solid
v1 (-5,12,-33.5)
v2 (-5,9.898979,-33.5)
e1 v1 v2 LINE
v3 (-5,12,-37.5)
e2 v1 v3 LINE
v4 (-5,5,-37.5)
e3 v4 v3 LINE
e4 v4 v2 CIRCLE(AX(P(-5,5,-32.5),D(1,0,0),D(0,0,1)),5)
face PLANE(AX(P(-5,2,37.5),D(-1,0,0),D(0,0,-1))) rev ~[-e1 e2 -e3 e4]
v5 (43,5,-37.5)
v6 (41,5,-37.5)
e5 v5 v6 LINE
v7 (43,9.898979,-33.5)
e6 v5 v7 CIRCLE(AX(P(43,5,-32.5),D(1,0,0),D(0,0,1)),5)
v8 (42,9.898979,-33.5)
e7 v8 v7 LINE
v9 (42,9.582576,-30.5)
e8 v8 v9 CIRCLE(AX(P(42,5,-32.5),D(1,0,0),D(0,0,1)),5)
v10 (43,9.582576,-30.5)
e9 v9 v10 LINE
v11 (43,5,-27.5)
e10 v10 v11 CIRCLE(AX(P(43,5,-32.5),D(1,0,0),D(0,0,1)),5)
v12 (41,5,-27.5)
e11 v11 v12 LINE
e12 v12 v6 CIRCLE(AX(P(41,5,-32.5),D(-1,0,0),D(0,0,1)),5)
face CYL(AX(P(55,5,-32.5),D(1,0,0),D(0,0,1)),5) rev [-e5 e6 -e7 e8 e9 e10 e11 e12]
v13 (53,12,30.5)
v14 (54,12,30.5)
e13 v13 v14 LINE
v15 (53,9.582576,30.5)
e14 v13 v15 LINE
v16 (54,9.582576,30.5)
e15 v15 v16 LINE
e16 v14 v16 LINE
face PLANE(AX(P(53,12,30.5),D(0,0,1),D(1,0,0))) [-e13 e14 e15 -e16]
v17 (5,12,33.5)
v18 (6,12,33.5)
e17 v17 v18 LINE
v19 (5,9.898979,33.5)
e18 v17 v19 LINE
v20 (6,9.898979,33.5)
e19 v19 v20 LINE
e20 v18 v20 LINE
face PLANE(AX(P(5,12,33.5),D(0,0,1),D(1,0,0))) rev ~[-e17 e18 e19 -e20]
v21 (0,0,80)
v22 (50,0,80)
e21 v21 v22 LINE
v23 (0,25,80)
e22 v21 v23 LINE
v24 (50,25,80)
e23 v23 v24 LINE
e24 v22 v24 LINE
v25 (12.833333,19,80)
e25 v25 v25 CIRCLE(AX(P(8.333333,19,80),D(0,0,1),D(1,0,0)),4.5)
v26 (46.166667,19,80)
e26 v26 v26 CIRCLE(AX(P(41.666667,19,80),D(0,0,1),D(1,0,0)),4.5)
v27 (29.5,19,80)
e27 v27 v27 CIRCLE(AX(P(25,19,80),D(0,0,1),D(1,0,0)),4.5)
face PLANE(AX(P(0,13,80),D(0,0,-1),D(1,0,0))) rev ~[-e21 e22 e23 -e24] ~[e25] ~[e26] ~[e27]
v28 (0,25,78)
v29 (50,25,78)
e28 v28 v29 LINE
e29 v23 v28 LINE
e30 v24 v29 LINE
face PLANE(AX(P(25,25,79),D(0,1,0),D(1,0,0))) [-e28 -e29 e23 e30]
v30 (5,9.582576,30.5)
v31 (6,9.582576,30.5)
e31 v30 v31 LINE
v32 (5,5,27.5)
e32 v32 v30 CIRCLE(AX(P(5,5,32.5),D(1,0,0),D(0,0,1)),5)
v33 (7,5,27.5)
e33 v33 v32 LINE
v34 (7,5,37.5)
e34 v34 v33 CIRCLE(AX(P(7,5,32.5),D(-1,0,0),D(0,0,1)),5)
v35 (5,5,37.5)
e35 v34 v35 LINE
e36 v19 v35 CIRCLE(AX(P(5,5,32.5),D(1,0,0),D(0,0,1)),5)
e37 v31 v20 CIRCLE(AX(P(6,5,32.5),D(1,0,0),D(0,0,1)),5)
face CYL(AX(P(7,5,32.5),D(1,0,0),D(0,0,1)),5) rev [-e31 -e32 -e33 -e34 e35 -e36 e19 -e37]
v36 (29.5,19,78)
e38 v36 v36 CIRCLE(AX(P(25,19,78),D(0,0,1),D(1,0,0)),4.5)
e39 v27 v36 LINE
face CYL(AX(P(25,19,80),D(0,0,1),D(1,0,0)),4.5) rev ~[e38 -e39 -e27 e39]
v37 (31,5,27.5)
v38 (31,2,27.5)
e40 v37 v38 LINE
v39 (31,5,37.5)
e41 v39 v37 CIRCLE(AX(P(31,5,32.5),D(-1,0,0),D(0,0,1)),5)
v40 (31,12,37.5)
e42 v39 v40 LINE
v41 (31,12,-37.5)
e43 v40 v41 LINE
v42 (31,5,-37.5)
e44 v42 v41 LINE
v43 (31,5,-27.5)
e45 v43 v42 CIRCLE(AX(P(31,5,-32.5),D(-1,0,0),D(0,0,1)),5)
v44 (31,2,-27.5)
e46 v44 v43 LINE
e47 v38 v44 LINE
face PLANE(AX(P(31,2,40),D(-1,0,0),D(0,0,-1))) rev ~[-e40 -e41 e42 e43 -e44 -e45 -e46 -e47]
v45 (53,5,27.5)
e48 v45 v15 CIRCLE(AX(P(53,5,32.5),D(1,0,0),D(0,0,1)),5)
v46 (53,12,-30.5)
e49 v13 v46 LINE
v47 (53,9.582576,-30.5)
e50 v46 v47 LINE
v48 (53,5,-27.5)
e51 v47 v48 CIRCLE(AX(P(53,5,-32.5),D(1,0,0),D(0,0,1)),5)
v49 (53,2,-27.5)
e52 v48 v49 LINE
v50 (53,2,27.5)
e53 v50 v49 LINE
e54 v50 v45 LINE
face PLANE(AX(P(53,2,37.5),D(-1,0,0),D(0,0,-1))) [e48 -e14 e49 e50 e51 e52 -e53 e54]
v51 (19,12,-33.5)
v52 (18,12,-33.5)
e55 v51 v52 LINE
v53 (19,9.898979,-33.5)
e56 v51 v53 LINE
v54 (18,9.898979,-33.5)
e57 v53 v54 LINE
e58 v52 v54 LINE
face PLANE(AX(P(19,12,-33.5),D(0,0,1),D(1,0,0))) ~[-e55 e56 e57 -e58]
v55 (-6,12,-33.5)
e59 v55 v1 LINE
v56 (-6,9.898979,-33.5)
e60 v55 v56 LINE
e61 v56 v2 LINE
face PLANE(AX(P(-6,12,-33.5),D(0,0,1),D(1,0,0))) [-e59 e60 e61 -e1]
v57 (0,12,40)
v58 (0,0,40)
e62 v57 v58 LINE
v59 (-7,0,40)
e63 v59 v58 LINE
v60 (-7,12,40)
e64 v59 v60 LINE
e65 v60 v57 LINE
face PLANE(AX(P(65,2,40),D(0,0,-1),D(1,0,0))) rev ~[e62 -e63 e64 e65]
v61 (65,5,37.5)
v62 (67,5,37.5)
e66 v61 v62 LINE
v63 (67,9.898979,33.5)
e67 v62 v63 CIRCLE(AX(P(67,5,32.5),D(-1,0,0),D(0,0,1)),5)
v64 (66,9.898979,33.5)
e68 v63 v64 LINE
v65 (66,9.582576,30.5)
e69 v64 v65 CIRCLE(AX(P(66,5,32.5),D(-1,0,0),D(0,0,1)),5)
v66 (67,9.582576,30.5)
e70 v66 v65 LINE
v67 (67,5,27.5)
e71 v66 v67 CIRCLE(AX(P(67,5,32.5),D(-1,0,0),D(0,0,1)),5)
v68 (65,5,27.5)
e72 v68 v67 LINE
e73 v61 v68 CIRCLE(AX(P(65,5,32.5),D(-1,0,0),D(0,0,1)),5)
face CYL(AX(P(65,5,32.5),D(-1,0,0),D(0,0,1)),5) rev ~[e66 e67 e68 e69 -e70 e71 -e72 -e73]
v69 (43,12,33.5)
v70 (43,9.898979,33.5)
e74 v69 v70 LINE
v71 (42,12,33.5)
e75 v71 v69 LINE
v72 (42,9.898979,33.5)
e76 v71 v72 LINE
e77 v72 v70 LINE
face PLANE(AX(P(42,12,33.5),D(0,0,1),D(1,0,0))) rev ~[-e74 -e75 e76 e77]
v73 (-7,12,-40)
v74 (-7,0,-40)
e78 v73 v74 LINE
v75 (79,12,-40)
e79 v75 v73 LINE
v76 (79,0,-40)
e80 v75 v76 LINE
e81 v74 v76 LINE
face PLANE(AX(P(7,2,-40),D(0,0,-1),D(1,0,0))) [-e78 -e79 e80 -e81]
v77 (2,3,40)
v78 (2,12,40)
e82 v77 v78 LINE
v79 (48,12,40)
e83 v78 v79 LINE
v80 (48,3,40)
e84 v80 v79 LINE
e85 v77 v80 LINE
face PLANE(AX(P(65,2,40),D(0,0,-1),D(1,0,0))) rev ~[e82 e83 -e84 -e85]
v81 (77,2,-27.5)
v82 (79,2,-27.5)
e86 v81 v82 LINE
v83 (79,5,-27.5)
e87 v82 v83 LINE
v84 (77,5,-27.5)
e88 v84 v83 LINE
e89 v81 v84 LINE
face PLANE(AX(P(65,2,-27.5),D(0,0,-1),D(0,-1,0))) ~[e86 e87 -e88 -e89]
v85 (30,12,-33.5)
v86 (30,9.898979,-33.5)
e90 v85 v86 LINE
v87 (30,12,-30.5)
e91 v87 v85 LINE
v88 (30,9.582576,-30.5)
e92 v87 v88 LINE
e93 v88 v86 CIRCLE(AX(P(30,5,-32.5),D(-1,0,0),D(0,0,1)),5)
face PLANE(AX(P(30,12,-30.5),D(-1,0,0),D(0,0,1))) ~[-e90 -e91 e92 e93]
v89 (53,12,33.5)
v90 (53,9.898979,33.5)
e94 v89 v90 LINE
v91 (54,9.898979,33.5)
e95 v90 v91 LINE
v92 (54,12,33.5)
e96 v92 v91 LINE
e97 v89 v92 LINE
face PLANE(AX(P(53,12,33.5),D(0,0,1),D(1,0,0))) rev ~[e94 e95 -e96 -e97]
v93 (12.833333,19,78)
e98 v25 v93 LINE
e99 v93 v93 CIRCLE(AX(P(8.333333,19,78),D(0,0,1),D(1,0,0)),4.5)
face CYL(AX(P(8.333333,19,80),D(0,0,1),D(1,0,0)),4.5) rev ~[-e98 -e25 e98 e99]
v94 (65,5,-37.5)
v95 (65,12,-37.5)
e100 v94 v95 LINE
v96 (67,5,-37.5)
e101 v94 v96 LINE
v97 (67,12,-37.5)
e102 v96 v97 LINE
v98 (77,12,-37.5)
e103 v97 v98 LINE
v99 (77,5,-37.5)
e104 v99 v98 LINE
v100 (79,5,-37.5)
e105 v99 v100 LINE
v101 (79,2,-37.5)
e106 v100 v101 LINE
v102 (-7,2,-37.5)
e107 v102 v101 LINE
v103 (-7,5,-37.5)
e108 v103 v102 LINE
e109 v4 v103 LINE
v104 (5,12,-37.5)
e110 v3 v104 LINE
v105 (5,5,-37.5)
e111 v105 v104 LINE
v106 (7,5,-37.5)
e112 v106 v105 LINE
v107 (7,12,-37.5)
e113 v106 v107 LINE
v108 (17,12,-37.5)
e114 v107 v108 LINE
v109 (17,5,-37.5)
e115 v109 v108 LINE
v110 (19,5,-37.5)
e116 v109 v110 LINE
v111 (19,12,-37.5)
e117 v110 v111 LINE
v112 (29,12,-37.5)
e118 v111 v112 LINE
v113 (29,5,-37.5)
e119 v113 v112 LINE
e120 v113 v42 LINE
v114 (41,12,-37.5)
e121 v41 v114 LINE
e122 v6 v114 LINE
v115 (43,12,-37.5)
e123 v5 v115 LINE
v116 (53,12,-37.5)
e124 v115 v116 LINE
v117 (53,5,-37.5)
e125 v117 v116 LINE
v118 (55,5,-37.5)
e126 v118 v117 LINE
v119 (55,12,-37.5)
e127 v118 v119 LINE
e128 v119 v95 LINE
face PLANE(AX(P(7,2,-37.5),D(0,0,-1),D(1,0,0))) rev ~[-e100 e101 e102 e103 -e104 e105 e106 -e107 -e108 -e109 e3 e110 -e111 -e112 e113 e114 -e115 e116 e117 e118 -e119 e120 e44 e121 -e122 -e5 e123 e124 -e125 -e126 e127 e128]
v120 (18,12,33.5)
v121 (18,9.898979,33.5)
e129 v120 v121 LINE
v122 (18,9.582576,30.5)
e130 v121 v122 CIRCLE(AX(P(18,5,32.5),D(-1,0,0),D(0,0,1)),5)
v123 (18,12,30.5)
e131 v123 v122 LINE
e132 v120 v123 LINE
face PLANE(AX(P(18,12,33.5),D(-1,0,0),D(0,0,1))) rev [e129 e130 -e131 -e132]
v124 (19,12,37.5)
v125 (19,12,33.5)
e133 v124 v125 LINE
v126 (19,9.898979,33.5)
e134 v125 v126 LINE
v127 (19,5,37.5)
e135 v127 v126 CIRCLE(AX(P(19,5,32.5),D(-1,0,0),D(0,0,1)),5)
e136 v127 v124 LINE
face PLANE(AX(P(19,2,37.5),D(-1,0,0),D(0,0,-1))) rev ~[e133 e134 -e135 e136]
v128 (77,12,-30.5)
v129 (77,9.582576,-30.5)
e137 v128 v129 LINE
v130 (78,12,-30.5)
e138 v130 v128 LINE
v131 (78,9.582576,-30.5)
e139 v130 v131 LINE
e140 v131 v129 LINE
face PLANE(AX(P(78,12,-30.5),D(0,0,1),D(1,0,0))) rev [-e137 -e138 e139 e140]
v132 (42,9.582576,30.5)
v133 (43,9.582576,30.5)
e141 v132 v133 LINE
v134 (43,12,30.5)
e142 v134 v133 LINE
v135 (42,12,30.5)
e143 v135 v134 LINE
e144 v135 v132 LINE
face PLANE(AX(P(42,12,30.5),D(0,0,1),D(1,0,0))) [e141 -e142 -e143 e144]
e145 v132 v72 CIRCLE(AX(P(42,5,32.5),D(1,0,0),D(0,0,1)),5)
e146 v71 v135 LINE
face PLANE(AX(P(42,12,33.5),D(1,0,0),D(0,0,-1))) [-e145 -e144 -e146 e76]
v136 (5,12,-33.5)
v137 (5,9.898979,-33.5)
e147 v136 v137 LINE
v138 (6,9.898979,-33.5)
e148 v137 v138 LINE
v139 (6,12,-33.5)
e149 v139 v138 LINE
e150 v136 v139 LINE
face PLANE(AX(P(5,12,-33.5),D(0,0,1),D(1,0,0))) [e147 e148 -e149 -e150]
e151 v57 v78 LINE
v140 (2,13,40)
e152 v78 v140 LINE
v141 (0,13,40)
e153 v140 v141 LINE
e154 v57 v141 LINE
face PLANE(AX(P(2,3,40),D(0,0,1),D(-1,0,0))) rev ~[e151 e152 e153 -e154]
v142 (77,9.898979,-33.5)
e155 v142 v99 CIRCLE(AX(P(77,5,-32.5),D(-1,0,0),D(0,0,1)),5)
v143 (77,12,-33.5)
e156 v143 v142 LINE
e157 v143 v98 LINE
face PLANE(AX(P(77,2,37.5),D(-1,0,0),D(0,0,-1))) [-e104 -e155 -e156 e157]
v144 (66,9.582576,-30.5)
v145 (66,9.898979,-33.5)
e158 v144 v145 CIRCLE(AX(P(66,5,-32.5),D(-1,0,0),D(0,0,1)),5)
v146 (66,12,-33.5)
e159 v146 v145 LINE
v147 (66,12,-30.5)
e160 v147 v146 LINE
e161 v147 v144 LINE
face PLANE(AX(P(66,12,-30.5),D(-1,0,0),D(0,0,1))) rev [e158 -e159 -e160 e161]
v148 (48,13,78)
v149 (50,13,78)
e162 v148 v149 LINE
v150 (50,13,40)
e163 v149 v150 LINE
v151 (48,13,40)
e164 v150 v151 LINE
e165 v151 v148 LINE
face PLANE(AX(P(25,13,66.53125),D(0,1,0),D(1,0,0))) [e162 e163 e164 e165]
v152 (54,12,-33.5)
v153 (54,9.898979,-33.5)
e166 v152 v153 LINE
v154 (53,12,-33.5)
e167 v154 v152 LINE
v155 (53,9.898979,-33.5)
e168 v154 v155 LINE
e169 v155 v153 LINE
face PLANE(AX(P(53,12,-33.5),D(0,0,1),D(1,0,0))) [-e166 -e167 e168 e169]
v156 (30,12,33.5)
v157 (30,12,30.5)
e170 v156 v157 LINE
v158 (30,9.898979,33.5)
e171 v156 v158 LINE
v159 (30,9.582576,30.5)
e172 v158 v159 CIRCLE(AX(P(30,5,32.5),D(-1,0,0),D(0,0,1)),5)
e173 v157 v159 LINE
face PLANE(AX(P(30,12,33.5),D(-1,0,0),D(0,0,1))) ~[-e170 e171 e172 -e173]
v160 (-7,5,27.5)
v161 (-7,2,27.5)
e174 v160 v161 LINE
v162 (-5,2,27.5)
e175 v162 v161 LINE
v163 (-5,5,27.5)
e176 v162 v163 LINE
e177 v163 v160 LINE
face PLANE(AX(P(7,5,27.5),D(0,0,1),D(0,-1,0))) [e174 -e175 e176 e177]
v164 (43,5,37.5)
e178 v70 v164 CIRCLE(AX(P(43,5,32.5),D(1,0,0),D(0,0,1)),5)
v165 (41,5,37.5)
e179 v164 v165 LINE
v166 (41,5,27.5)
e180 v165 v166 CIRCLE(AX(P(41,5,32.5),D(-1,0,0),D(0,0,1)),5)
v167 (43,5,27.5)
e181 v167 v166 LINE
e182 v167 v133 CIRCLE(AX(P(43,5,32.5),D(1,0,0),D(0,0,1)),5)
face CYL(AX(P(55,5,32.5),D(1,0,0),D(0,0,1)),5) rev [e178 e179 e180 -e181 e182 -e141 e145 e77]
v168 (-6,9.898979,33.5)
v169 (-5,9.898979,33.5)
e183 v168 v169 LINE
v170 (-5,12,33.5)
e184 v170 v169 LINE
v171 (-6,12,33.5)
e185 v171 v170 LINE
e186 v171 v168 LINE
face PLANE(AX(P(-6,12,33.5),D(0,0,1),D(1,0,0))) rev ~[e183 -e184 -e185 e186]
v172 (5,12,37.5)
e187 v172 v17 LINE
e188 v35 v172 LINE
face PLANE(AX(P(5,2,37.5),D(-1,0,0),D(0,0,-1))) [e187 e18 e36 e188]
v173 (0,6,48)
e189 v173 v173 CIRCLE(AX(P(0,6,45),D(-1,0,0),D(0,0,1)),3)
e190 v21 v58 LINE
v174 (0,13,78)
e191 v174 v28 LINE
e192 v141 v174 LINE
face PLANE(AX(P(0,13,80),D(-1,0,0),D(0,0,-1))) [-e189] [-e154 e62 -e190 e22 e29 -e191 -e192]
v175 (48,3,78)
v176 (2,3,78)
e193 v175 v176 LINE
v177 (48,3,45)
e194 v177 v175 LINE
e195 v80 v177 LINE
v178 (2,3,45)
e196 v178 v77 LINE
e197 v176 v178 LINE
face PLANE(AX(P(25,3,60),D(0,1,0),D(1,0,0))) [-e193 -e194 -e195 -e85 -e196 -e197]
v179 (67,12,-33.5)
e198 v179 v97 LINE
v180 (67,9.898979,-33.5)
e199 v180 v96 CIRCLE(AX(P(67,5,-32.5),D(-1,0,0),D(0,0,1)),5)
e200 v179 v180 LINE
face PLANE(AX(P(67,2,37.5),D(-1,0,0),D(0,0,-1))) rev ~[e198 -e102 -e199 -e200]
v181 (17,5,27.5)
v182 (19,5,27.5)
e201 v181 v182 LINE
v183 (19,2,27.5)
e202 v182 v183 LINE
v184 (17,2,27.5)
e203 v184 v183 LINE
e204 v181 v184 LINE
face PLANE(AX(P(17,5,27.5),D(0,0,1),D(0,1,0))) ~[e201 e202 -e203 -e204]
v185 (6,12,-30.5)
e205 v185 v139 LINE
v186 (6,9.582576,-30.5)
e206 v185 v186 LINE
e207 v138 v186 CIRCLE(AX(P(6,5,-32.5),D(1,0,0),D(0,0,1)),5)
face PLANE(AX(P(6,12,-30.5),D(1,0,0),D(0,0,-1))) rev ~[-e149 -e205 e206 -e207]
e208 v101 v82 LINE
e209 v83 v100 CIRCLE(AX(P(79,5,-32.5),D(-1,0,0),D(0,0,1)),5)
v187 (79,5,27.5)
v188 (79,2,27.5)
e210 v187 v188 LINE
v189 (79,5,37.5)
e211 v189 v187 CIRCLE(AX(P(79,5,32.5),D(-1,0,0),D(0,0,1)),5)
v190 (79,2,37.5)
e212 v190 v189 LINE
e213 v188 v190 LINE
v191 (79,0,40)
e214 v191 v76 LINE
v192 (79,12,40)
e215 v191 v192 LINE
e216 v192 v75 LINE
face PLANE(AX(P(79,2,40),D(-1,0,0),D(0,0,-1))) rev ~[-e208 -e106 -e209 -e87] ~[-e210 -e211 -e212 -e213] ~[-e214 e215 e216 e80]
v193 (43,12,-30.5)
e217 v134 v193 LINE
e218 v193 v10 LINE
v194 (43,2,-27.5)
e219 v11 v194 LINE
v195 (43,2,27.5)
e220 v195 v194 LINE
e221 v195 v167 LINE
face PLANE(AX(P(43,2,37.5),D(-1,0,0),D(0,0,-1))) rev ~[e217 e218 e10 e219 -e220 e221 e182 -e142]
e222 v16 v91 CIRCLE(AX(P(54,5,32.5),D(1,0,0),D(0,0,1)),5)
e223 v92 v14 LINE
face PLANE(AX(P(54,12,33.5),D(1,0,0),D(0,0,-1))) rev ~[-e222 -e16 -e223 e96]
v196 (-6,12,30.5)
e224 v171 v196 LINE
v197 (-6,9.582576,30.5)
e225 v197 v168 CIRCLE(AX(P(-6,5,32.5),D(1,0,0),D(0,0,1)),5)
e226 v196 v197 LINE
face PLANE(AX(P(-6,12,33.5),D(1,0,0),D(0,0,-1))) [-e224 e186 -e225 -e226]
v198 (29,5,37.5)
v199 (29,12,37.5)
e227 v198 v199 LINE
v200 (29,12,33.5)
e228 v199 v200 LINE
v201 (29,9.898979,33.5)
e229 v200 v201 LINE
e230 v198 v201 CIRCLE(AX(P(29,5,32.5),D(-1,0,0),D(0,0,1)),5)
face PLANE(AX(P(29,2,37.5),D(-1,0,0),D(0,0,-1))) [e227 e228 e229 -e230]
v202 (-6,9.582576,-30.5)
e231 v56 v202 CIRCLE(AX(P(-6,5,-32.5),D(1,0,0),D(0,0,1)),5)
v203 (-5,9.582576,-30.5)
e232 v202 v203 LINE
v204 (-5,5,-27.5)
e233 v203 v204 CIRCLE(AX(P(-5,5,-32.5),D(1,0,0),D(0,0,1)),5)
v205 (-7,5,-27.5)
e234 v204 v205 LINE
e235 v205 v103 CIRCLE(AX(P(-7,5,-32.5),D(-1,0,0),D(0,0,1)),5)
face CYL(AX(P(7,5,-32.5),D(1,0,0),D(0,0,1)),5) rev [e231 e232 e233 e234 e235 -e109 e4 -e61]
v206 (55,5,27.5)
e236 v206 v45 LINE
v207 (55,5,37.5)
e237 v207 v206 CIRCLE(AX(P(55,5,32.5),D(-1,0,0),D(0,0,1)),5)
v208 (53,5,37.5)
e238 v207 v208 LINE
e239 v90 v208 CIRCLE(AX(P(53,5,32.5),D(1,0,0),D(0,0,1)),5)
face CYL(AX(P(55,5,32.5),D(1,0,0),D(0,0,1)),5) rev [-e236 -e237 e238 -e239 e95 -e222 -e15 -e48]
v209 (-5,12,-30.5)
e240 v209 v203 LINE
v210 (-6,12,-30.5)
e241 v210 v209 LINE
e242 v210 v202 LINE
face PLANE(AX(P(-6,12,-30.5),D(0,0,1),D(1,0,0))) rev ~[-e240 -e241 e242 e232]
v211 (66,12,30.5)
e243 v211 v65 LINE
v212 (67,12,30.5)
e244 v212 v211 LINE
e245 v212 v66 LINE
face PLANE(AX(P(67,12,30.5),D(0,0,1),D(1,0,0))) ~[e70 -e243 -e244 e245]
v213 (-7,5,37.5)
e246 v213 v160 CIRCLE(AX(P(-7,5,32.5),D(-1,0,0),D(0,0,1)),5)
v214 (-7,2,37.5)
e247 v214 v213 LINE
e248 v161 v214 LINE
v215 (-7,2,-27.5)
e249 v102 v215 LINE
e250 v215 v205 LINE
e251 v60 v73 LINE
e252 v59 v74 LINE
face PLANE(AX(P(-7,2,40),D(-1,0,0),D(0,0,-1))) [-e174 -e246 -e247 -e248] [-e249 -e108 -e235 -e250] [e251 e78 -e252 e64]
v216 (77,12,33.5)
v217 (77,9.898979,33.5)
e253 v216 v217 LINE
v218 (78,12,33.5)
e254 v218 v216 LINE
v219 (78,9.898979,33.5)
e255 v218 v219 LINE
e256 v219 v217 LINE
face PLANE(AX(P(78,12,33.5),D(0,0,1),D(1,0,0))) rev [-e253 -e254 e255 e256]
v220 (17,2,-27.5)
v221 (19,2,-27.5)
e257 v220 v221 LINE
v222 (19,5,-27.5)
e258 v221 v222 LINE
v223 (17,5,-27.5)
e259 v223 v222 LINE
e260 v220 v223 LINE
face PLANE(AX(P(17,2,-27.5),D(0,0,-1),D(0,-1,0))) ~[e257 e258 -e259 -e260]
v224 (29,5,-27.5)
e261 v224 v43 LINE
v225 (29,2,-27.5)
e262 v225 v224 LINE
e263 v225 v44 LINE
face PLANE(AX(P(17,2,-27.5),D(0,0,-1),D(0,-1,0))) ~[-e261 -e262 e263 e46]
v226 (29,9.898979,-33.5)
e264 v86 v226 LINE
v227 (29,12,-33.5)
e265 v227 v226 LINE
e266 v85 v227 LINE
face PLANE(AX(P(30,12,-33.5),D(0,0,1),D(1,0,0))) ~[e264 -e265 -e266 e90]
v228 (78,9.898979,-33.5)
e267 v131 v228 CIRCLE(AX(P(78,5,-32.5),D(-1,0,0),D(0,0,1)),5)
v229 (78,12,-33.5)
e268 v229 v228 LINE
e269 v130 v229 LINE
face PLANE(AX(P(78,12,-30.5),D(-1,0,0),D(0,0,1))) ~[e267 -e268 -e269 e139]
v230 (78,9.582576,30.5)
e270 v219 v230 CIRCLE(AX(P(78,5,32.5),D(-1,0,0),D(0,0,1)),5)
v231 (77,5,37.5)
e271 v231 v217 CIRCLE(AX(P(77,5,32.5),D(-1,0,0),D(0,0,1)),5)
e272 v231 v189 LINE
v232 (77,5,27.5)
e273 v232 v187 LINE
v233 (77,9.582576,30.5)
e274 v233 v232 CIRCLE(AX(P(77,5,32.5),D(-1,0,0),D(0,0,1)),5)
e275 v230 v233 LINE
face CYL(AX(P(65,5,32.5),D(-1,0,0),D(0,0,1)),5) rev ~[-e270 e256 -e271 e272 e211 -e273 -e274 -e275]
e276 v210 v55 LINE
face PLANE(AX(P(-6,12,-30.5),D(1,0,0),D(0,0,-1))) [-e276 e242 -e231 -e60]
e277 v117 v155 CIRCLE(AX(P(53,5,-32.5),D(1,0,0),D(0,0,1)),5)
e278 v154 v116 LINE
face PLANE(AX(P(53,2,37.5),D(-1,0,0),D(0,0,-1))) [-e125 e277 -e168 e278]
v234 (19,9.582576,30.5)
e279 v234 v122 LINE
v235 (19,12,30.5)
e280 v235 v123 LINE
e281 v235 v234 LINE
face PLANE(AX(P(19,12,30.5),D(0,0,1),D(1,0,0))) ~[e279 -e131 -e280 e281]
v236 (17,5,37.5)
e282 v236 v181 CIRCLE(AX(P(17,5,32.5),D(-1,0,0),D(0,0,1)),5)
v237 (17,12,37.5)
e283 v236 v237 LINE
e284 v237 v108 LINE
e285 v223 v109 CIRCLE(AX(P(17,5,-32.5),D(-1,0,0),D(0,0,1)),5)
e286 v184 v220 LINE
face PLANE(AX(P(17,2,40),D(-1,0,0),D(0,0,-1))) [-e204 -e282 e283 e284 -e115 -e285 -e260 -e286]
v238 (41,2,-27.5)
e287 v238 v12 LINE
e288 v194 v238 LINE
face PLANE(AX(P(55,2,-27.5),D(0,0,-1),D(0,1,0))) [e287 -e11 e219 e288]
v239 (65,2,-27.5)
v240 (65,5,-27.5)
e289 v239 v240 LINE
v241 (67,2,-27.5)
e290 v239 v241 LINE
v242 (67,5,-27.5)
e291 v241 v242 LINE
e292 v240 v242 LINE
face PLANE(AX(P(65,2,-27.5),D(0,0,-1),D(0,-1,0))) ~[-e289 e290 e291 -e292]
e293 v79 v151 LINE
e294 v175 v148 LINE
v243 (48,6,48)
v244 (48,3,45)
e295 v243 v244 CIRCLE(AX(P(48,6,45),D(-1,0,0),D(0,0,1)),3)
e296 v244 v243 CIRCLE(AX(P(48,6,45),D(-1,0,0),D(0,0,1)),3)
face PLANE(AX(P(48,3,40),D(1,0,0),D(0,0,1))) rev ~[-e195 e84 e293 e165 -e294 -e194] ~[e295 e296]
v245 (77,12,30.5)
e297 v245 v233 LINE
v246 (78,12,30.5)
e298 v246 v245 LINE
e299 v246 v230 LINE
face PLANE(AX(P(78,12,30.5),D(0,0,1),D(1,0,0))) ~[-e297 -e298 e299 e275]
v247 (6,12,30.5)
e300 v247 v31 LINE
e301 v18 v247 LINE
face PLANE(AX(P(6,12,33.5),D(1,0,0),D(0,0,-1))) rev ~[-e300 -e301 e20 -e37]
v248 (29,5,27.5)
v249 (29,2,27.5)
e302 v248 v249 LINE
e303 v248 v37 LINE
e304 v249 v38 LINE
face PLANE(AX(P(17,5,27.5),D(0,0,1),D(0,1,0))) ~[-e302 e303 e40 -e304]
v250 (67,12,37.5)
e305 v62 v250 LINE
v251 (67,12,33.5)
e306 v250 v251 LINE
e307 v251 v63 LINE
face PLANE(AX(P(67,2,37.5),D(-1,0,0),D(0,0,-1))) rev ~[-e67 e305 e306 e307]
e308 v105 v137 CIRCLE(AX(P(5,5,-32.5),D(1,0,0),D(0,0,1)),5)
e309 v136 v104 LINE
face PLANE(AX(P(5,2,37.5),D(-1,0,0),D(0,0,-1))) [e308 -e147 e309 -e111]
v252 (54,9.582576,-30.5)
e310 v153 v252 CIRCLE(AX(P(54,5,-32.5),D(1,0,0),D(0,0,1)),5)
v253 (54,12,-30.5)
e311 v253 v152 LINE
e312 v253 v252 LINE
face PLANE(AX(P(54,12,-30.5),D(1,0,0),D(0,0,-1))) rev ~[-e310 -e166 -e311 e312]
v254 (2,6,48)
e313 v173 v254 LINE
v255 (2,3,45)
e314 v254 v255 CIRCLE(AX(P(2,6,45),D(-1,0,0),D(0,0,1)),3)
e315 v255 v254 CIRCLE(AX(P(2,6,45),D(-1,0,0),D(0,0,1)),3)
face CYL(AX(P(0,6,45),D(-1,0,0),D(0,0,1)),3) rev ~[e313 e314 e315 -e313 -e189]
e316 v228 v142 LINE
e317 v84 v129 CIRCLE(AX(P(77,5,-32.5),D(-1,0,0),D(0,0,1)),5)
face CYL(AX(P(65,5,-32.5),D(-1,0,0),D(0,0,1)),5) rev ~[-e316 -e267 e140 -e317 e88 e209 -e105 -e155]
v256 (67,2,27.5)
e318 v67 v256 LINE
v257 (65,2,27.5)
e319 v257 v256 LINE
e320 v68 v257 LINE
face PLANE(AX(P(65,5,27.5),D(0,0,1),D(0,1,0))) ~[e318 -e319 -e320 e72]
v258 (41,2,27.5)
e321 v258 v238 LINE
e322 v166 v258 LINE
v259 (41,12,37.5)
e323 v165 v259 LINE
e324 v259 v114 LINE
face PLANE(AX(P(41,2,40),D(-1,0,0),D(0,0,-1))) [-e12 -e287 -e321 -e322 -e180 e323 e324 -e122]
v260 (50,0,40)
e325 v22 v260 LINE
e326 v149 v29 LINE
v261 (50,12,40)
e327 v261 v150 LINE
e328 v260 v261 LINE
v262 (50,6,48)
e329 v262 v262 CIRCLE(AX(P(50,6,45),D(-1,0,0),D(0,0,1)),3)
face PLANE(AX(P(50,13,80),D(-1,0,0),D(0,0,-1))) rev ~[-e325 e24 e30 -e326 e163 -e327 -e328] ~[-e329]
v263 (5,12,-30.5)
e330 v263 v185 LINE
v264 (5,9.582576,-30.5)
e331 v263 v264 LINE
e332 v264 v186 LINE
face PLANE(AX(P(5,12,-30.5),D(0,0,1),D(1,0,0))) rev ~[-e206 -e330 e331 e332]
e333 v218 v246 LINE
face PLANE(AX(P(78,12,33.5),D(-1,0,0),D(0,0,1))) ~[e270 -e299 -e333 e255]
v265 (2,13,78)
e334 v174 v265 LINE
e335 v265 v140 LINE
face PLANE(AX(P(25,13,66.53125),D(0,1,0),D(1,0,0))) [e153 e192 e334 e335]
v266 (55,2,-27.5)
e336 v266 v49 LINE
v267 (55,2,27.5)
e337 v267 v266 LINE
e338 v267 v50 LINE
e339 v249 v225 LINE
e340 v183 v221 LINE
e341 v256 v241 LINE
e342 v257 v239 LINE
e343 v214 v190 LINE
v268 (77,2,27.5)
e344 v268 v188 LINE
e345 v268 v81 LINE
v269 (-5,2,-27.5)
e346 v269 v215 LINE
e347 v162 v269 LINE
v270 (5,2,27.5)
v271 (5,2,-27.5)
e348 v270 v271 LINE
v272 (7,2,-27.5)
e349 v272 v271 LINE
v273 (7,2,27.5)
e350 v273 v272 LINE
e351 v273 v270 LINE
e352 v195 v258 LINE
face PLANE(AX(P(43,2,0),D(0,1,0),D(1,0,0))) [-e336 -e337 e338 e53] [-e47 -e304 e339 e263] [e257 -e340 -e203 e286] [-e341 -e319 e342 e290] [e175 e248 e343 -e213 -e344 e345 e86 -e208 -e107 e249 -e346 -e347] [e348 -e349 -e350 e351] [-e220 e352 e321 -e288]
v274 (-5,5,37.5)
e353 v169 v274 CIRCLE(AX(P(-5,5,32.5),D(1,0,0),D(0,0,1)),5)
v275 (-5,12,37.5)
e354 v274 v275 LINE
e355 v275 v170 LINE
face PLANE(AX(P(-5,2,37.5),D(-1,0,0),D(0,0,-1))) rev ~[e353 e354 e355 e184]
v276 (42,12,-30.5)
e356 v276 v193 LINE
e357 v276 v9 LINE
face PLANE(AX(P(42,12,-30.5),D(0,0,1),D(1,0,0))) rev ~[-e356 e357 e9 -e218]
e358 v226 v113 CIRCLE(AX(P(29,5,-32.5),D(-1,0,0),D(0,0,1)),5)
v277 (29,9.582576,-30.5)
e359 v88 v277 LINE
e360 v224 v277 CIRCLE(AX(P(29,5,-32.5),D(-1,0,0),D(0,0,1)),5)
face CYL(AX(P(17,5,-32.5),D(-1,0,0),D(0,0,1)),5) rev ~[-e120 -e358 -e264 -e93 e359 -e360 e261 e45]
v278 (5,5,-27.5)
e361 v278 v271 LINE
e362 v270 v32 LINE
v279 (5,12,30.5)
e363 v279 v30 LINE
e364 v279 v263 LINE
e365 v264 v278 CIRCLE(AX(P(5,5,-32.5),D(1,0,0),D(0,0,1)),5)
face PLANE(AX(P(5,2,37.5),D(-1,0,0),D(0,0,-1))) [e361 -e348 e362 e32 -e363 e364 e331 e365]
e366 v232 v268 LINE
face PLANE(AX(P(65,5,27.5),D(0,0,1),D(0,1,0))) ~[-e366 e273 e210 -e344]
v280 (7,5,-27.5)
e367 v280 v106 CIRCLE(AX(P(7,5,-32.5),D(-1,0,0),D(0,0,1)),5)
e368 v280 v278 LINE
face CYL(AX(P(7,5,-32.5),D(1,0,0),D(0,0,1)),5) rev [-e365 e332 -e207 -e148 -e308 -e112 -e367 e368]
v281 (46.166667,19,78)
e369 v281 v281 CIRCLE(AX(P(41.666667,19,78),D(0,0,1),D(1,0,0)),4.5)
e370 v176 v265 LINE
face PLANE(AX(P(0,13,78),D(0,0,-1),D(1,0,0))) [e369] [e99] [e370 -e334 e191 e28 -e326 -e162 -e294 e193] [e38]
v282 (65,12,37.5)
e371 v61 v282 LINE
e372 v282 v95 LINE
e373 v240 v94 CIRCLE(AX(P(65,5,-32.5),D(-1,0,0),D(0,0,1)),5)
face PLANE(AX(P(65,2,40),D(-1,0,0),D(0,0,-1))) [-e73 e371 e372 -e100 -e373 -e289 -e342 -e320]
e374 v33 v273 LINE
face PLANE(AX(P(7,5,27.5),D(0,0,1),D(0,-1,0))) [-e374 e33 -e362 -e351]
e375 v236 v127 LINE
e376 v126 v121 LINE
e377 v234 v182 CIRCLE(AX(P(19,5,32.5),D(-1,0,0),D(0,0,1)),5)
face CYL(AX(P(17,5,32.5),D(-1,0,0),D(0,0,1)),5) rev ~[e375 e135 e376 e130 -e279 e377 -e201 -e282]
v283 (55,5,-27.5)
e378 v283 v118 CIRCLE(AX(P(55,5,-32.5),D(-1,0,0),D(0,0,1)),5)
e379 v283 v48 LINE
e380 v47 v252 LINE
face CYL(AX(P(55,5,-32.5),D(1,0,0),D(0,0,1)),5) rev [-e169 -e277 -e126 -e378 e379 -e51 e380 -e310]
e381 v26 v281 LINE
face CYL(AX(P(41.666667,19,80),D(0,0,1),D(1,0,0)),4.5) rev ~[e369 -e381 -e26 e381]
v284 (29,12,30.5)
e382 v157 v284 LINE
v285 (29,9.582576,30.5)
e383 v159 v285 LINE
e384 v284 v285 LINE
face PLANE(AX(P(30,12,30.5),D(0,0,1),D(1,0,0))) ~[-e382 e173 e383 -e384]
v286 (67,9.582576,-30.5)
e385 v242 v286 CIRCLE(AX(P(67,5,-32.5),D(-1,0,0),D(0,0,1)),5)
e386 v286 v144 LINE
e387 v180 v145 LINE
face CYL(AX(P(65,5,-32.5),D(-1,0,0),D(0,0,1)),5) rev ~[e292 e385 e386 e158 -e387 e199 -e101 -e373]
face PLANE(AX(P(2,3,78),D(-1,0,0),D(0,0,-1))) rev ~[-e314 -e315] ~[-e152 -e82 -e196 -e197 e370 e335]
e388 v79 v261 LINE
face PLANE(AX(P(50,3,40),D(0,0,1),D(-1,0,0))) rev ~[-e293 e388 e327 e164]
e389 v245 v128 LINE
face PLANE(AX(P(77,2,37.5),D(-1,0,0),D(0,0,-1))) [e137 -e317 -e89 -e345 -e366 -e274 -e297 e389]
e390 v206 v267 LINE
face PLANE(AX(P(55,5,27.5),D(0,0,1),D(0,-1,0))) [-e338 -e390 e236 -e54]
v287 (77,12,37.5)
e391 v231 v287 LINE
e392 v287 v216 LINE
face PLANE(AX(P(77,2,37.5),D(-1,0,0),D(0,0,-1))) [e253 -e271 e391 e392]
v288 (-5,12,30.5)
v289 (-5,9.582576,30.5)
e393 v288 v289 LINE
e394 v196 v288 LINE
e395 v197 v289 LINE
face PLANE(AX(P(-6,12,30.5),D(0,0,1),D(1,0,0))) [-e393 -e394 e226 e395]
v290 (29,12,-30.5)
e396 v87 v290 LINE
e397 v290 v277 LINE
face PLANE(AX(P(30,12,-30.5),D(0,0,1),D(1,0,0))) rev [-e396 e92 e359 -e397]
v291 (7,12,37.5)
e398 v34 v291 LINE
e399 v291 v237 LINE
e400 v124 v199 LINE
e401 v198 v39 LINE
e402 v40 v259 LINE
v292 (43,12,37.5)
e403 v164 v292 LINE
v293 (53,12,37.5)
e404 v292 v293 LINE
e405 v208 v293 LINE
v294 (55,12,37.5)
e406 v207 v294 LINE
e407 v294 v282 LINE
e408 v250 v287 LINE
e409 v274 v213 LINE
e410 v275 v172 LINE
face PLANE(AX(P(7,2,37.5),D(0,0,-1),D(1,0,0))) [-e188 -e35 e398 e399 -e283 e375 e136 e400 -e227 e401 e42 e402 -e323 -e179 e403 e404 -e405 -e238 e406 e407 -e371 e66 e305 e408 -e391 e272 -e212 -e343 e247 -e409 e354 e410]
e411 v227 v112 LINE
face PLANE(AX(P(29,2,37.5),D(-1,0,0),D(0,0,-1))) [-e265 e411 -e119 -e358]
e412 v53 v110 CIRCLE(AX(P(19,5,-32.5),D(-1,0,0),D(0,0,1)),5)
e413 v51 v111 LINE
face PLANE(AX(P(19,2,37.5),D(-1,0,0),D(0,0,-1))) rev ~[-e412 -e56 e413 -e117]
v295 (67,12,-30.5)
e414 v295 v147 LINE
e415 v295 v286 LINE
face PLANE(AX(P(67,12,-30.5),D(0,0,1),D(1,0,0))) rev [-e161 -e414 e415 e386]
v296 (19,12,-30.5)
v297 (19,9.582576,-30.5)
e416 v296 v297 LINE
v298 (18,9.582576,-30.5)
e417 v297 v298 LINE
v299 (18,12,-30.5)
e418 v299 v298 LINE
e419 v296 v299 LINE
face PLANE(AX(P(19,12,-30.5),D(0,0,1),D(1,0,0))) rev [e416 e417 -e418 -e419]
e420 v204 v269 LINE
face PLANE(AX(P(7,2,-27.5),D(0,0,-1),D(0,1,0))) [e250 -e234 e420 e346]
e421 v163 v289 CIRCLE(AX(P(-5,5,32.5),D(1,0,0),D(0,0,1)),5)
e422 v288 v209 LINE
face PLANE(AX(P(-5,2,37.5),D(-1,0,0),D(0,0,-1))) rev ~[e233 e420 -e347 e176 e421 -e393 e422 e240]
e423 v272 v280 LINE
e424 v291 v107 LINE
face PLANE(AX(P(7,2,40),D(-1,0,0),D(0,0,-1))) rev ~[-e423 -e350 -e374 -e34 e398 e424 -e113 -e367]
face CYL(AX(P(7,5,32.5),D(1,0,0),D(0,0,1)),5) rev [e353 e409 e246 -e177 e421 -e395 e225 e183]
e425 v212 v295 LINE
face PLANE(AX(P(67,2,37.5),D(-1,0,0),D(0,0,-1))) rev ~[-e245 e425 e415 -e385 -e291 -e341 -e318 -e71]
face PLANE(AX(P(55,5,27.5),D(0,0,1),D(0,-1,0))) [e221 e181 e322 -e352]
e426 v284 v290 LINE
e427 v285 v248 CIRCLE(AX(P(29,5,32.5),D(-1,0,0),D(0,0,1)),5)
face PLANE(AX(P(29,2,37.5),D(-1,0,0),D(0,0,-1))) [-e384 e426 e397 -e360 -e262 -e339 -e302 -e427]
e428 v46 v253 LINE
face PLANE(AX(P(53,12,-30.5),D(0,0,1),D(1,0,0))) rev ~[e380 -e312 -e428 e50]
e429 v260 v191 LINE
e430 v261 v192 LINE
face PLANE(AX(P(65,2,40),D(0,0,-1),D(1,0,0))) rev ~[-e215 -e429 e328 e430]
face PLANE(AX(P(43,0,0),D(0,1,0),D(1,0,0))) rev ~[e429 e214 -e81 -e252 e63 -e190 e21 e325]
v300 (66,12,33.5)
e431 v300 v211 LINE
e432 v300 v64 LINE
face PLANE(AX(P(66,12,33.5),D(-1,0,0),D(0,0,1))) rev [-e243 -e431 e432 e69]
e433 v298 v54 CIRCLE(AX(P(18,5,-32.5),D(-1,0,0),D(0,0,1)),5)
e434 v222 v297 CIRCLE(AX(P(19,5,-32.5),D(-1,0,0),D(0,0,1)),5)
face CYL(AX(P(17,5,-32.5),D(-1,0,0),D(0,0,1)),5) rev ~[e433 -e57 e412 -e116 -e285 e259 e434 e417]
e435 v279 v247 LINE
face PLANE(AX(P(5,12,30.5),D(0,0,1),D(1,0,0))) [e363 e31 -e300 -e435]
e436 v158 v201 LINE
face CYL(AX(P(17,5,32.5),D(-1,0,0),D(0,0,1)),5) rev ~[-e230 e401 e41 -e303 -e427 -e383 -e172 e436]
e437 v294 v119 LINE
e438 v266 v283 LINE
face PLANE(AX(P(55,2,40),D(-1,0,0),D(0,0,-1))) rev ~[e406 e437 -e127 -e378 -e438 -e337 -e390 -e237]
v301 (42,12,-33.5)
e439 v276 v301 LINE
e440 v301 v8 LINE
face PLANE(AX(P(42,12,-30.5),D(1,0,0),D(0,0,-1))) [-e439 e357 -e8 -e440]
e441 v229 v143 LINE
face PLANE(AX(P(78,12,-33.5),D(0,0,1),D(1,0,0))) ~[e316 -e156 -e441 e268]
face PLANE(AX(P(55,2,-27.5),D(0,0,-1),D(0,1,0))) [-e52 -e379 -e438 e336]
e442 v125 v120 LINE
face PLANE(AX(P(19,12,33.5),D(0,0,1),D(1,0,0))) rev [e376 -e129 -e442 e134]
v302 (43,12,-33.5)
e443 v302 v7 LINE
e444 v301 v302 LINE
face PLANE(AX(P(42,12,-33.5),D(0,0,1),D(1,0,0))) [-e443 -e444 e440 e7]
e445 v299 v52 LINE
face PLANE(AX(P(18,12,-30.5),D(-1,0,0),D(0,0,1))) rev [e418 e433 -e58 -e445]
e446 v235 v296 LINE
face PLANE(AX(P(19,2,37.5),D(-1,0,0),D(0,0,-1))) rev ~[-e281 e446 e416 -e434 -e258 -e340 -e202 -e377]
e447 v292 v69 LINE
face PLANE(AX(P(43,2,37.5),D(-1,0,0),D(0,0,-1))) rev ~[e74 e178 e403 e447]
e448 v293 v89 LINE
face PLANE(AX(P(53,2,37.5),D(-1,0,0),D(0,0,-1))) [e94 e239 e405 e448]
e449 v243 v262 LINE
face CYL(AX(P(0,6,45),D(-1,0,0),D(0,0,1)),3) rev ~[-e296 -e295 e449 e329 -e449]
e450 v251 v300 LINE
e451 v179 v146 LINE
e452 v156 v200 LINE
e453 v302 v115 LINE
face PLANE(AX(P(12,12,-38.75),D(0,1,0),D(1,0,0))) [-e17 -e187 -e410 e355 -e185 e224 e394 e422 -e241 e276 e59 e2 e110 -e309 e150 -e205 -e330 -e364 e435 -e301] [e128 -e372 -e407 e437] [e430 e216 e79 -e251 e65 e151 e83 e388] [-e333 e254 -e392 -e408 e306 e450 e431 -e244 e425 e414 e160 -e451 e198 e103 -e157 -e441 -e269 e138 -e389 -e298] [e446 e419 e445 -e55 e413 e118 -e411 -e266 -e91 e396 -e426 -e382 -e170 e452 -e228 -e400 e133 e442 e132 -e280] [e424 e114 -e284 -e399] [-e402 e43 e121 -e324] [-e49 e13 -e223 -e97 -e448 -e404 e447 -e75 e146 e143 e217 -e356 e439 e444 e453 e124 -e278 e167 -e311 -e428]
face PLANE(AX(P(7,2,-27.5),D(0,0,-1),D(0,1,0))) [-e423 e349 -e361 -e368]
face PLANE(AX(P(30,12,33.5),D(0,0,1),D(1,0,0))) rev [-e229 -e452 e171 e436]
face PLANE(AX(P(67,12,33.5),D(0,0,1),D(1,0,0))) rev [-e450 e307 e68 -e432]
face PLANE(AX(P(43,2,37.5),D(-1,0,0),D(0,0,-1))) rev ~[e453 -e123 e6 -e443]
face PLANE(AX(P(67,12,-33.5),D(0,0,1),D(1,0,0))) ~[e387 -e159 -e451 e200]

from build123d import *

# Parameters (mm, degrees)
SKETCH1_W               = 14
SKETCH1_H               = 80
BOSS_EXTRUDE1_DEPTH     = 2
SKETCH2_W               = 14
SKETCH2_H               = 80
SKETCH2_W_2             = 10
SKETCH2_H_2             = 75
BOSS_EXTRUDE2_DEPTH     = 10
SKETCH3_W               = 1
SKETCH3_H               = 3
CUT_EXTRUDE1_DEPTH      = 10
CUT_EXTRUDE2_DEPTH      = 14
SKETCH5_W               = 72
SKETCH5_H               = 80
BOSS_EXTRUDE3_DEPTH     = 2
SKETCH6_W               = 14
SKETCH6_H               = 80
SKETCH6_W_2             = 10
SKETCH6_H_2             = 75
BOSS_EXTRUDE4_DEPTH     = 10
MIRROR2_COPY_1_SKETCH_W = 1
MIRROR2_COPY_1_SKETCH_H = 3
MIRROR2_COPY_1_DEPTH    = 10
MIRROR5_COPY_1_DEPTH    = 14
SKETCH7_W               = 10
SKETCH7_H               = 2.5
BOSS_EXTRUDE5_DEPTH     = 10
SKETCH8_W               = 50
SKETCH8_H               = 40
BOSS_EXTRUDE6_DEPTH     = 3
BOSS_EXTRUDE7_DEPTH     = 10
SKETCH10_R              = 3
CUT_EXTRUDE3_DEPTH      = 50
SKETCH11_W              = 50
SKETCH11_H              = 2
BOSS_EXTRUDE8_DEPTH     = 12
SKETCH12_R              = 4.5
CUT_EXTRUDE4_DEPTH      = 2


with BuildPart() as part:
    # Sketch1 → Boss-Extrude1 (new body)
    with BuildSketch(Plane(origin=(0, 0, 0), x_dir=(1, 0, 0), z_dir=(0, 1, 0))):
        Rectangle(SKETCH1_W, SKETCH1_H)
    extrude(amount=BOSS_EXTRUDE1_DEPTH)

    # Sketch2 → Boss-Extrude2 (add)
    with BuildSketch(Plane(origin=(0, 2, 0), x_dir=(1, 0, 0), z_dir=(0, 1, 0))):
        Rectangle(SKETCH2_W, SKETCH2_H)
        Rectangle(SKETCH2_W_2, SKETCH2_H_2, mode=Mode.SUBTRACT)
    extrude(amount=BOSS_EXTRUDE2_DEPTH)

    # Sketch3 → Cut-Extrude1 (cut)
    with BuildSketch(Plane(origin=(0, 12, 0), x_dir=(1, 0, 0), z_dir=(0, 1, 0))):
        with Locations((-5.5, -32)):
            Rectangle(SKETCH3_W, SKETCH3_H)
        with Locations((5.5, -32)):
            Rectangle(SKETCH3_W, SKETCH3_H)
        with Locations((5.5, 32)):
            Rectangle(SKETCH3_W, SKETCH3_H)
        with Locations((-5.5, 32)):
            Rectangle(SKETCH3_W, SKETCH3_H)
    cut_extrude1 = extrude(amount=-CUT_EXTRUDE1_DEPTH, mode=Mode.SUBTRACT)

    # Sketch4 → Cut-Extrude2 (cut)
    with BuildSketch(Plane(origin=(7, 0, 0), x_dir=(0, 0, -1), z_dir=(1, 0, 0))):
        with BuildLine():
            ThreePointArc((-37.5, 5), (-32.5, 10), (-27.5, 5))
            Line((-27.5, 5), (-27.5, 2))
            Line((-27.5, 2), (-32.5, 2))
            Line((-32.5, 2), (-37.5, 2))
            Line((-37.5, 2), (-37.5, 5))
        make_face()
        with BuildLine():
            ThreePointArc((27.5, 5), (32.5, 10), (37.5, 5))
            Line((37.5, 5), (37.5, 2))
            Line((37.5, 2), (32.5, 2))
            Line((32.5, 2), (27.5, 2))
            Line((27.5, 2), (27.5, 5))
        make_face()
    cut_extrude2 = extrude(amount=-CUT_EXTRUDE2_DEPTH, mode=Mode.SUBTRACT)

    # Sketch5 → Boss-Extrude3 (add)
    with BuildSketch(Plane(origin=(0, 0, 0), x_dir=(1, 0, 0), z_dir=(0, 1, 0))):
        with Locations((43, 0)):
            Rectangle(SKETCH5_W, SKETCH5_H)
    extrude(amount=BOSS_EXTRUDE3_DEPTH)

    # Sketch6 → Boss-Extrude4 (add)
    # profile 1 of 3: a face of its own
    with BuildSketch(Plane(origin=(0, 2, 0), x_dir=(1, 0, 0), z_dir=(0, 1, 0))):
        with Locations((24, 0)):
            Rectangle(SKETCH6_W, SKETCH6_H)
        with Locations((24, 0)):
            Rectangle(SKETCH6_W_2, SKETCH6_H_2, mode=Mode.SUBTRACT)
    # profile 2 of 3: a face of its own
    with BuildSketch(Plane(origin=(0, 2, 0), x_dir=(1, 0, 0), z_dir=(0, 1, 0))):
        with Locations((48, 0)):
            Rectangle(SKETCH6_W, SKETCH6_H)
        with Locations((48, 0)):
            Rectangle(SKETCH6_W_2, SKETCH6_H_2, mode=Mode.SUBTRACT)
    # profile 3 of 3: a face of its own
    with BuildSketch(Plane(origin=(0, 2, 0), x_dir=(1, 0, 0), z_dir=(0, 1, 0))):
        with Locations((72, 0)):
            Rectangle(SKETCH6_W, SKETCH6_H)
        with Locations((72, 0)):
            Rectangle(SKETCH6_W_2, SKETCH6_H_2, mode=Mode.SUBTRACT)
    extrude(amount=BOSS_EXTRUDE4_DEPTH)

    # Mirror1: Cut-Extrude1 across plane
    add(cut_extrude1.mirror(Plane.ZY.offset(-12)), mode=Mode.SUBTRACT)

    # Mirror2: Cut-Extrude1 across plane
    add(cut_extrude1.mirror(Plane.ZY.offset(-36)), mode=Mode.SUBTRACT)

    # Mirror2 copy 1 sketch → Mirror2 copy 1 (cut)
    with BuildSketch(Plane(origin=(48, 12, 0), x_dir=(1, 0, 0), z_dir=(0, 1, 0))):
        with Locations((-5.5, -32)):
            Rectangle(MIRROR2_COPY_1_SKETCH_W, MIRROR2_COPY_1_SKETCH_H)
        with Locations((5.5, -32)):
            Rectangle(MIRROR2_COPY_1_SKETCH_W, MIRROR2_COPY_1_SKETCH_H)
        with Locations((5.5, 32)):
            Rectangle(MIRROR2_COPY_1_SKETCH_W, MIRROR2_COPY_1_SKETCH_H)
        with Locations((-5.5, 32)):
            Rectangle(MIRROR2_COPY_1_SKETCH_W, MIRROR2_COPY_1_SKETCH_H)
    extrude(amount=-MIRROR2_COPY_1_DEPTH, mode=Mode.SUBTRACT)

    # Mirror4: Cut-Extrude2 across plane
    add(cut_extrude2.mirror(Plane.ZY.offset(-12)), mode=Mode.SUBTRACT)

    # Mirror5: Cut-Extrude2 across plane
    add(cut_extrude2.mirror(Plane.ZY.offset(-36)), mode=Mode.SUBTRACT)

    # Mirror5 copy 1 sketch → Mirror5 copy 1 (cut)
    with BuildSketch(Plane(origin=(55, 0, 0), x_dir=(0, 0, -1), z_dir=(1, 0, 0))):
        with BuildLine():
            ThreePointArc((-37.5, 5), (-32.5, 10), (-27.5, 5))
            Line((-27.5, 5), (-27.5, 2))
            Line((-27.5, 2), (-32.5, 2))
            Line((-32.5, 2), (-37.5, 2))
            Line((-37.5, 2), (-37.5, 5))
        make_face()
        with BuildLine():
            ThreePointArc((27.5, 5), (32.5, 10), (37.5, 5))
            Line((37.5, 5), (37.5, 2))
            Line((37.5, 2), (32.5, 2))
            Line((32.5, 2), (27.5, 2))
            Line((27.5, 2), (27.5, 5))
        make_face()
    extrude(amount=-MIRROR5_COPY_1_DEPTH, mode=Mode.SUBTRACT)

    # Sketch7 → Boss-Extrude5 (add)
    with BuildSketch(Plane(origin=(0, 2, 0), x_dir=(1, 0, 0), z_dir=(0, 1, 0))):
        with Locations((12, 38.75)):
            Rectangle(SKETCH7_W, SKETCH7_H)
        with Locations((36, 38.75)):
            Rectangle(SKETCH7_W, SKETCH7_H)
        with Locations((60, 38.75)):
            Rectangle(SKETCH7_W, SKETCH7_H)
        with Locations((60, -38.75)):
            Rectangle(SKETCH7_W, SKETCH7_H)
        with Locations((36, -38.75)):
            Rectangle(SKETCH7_W, SKETCH7_H)
        with Locations((12, -38.75)):
            Rectangle(SKETCH7_W, SKETCH7_H)
    extrude(amount=BOSS_EXTRUDE5_DEPTH)

    # Sketch8 → Boss-Extrude6 (add)
    with BuildSketch(Plane(origin=(0, 0, 0), x_dir=(1, 0, 0), z_dir=(0, 1, 0))):
        with Locations((25, -60)):
            Rectangle(SKETCH8_W, SKETCH8_H)
    extrude(amount=BOSS_EXTRUDE6_DEPTH)

    # Sketch9 → Boss-Extrude7 (add)
    with BuildSketch(Plane(origin=(0, 3, 0), x_dir=(1, 0, 0), z_dir=(0, 1, 0))):
        Polygon((0, -40), (0, -80), (50, -80), (50, -40), (48, -40), (48, -78), (2, -78), (2, -40), align=None)
    extrude(amount=BOSS_EXTRUDE7_DEPTH)

    # Sketch10 → Cut-Extrude3 (cut)
    with BuildSketch(Plane.ZY):
        with Locations((45, 6)):
            Circle(SKETCH10_R)
    extrude(amount=-CUT_EXTRUDE3_DEPTH, mode=Mode.SUBTRACT)

    # Sketch11 → Boss-Extrude8 (add)
    with BuildSketch(Plane(origin=(0, 13, 0), x_dir=(1, 0, 0), z_dir=(0, 1, 0))):
        with Locations((25, -79)):
            Rectangle(SKETCH11_W, SKETCH11_H)
    extrude(amount=BOSS_EXTRUDE8_DEPTH)

    # Sketch12 → Cut-Extrude4 (cut)
    with BuildSketch(Plane.XY.offset(80)):
        with Locations((8.333333333, 19)):
            Circle(SKETCH12_R)
        with Locations((25, 19)):
            Circle(SKETCH12_R)
        with Locations((41.666666667, 19)):
            Circle(SKETCH12_R)
    extrude(amount=-CUT_EXTRUDE4_DEPTH, mode=Mode.SUBTRACT)


solid = part.part
